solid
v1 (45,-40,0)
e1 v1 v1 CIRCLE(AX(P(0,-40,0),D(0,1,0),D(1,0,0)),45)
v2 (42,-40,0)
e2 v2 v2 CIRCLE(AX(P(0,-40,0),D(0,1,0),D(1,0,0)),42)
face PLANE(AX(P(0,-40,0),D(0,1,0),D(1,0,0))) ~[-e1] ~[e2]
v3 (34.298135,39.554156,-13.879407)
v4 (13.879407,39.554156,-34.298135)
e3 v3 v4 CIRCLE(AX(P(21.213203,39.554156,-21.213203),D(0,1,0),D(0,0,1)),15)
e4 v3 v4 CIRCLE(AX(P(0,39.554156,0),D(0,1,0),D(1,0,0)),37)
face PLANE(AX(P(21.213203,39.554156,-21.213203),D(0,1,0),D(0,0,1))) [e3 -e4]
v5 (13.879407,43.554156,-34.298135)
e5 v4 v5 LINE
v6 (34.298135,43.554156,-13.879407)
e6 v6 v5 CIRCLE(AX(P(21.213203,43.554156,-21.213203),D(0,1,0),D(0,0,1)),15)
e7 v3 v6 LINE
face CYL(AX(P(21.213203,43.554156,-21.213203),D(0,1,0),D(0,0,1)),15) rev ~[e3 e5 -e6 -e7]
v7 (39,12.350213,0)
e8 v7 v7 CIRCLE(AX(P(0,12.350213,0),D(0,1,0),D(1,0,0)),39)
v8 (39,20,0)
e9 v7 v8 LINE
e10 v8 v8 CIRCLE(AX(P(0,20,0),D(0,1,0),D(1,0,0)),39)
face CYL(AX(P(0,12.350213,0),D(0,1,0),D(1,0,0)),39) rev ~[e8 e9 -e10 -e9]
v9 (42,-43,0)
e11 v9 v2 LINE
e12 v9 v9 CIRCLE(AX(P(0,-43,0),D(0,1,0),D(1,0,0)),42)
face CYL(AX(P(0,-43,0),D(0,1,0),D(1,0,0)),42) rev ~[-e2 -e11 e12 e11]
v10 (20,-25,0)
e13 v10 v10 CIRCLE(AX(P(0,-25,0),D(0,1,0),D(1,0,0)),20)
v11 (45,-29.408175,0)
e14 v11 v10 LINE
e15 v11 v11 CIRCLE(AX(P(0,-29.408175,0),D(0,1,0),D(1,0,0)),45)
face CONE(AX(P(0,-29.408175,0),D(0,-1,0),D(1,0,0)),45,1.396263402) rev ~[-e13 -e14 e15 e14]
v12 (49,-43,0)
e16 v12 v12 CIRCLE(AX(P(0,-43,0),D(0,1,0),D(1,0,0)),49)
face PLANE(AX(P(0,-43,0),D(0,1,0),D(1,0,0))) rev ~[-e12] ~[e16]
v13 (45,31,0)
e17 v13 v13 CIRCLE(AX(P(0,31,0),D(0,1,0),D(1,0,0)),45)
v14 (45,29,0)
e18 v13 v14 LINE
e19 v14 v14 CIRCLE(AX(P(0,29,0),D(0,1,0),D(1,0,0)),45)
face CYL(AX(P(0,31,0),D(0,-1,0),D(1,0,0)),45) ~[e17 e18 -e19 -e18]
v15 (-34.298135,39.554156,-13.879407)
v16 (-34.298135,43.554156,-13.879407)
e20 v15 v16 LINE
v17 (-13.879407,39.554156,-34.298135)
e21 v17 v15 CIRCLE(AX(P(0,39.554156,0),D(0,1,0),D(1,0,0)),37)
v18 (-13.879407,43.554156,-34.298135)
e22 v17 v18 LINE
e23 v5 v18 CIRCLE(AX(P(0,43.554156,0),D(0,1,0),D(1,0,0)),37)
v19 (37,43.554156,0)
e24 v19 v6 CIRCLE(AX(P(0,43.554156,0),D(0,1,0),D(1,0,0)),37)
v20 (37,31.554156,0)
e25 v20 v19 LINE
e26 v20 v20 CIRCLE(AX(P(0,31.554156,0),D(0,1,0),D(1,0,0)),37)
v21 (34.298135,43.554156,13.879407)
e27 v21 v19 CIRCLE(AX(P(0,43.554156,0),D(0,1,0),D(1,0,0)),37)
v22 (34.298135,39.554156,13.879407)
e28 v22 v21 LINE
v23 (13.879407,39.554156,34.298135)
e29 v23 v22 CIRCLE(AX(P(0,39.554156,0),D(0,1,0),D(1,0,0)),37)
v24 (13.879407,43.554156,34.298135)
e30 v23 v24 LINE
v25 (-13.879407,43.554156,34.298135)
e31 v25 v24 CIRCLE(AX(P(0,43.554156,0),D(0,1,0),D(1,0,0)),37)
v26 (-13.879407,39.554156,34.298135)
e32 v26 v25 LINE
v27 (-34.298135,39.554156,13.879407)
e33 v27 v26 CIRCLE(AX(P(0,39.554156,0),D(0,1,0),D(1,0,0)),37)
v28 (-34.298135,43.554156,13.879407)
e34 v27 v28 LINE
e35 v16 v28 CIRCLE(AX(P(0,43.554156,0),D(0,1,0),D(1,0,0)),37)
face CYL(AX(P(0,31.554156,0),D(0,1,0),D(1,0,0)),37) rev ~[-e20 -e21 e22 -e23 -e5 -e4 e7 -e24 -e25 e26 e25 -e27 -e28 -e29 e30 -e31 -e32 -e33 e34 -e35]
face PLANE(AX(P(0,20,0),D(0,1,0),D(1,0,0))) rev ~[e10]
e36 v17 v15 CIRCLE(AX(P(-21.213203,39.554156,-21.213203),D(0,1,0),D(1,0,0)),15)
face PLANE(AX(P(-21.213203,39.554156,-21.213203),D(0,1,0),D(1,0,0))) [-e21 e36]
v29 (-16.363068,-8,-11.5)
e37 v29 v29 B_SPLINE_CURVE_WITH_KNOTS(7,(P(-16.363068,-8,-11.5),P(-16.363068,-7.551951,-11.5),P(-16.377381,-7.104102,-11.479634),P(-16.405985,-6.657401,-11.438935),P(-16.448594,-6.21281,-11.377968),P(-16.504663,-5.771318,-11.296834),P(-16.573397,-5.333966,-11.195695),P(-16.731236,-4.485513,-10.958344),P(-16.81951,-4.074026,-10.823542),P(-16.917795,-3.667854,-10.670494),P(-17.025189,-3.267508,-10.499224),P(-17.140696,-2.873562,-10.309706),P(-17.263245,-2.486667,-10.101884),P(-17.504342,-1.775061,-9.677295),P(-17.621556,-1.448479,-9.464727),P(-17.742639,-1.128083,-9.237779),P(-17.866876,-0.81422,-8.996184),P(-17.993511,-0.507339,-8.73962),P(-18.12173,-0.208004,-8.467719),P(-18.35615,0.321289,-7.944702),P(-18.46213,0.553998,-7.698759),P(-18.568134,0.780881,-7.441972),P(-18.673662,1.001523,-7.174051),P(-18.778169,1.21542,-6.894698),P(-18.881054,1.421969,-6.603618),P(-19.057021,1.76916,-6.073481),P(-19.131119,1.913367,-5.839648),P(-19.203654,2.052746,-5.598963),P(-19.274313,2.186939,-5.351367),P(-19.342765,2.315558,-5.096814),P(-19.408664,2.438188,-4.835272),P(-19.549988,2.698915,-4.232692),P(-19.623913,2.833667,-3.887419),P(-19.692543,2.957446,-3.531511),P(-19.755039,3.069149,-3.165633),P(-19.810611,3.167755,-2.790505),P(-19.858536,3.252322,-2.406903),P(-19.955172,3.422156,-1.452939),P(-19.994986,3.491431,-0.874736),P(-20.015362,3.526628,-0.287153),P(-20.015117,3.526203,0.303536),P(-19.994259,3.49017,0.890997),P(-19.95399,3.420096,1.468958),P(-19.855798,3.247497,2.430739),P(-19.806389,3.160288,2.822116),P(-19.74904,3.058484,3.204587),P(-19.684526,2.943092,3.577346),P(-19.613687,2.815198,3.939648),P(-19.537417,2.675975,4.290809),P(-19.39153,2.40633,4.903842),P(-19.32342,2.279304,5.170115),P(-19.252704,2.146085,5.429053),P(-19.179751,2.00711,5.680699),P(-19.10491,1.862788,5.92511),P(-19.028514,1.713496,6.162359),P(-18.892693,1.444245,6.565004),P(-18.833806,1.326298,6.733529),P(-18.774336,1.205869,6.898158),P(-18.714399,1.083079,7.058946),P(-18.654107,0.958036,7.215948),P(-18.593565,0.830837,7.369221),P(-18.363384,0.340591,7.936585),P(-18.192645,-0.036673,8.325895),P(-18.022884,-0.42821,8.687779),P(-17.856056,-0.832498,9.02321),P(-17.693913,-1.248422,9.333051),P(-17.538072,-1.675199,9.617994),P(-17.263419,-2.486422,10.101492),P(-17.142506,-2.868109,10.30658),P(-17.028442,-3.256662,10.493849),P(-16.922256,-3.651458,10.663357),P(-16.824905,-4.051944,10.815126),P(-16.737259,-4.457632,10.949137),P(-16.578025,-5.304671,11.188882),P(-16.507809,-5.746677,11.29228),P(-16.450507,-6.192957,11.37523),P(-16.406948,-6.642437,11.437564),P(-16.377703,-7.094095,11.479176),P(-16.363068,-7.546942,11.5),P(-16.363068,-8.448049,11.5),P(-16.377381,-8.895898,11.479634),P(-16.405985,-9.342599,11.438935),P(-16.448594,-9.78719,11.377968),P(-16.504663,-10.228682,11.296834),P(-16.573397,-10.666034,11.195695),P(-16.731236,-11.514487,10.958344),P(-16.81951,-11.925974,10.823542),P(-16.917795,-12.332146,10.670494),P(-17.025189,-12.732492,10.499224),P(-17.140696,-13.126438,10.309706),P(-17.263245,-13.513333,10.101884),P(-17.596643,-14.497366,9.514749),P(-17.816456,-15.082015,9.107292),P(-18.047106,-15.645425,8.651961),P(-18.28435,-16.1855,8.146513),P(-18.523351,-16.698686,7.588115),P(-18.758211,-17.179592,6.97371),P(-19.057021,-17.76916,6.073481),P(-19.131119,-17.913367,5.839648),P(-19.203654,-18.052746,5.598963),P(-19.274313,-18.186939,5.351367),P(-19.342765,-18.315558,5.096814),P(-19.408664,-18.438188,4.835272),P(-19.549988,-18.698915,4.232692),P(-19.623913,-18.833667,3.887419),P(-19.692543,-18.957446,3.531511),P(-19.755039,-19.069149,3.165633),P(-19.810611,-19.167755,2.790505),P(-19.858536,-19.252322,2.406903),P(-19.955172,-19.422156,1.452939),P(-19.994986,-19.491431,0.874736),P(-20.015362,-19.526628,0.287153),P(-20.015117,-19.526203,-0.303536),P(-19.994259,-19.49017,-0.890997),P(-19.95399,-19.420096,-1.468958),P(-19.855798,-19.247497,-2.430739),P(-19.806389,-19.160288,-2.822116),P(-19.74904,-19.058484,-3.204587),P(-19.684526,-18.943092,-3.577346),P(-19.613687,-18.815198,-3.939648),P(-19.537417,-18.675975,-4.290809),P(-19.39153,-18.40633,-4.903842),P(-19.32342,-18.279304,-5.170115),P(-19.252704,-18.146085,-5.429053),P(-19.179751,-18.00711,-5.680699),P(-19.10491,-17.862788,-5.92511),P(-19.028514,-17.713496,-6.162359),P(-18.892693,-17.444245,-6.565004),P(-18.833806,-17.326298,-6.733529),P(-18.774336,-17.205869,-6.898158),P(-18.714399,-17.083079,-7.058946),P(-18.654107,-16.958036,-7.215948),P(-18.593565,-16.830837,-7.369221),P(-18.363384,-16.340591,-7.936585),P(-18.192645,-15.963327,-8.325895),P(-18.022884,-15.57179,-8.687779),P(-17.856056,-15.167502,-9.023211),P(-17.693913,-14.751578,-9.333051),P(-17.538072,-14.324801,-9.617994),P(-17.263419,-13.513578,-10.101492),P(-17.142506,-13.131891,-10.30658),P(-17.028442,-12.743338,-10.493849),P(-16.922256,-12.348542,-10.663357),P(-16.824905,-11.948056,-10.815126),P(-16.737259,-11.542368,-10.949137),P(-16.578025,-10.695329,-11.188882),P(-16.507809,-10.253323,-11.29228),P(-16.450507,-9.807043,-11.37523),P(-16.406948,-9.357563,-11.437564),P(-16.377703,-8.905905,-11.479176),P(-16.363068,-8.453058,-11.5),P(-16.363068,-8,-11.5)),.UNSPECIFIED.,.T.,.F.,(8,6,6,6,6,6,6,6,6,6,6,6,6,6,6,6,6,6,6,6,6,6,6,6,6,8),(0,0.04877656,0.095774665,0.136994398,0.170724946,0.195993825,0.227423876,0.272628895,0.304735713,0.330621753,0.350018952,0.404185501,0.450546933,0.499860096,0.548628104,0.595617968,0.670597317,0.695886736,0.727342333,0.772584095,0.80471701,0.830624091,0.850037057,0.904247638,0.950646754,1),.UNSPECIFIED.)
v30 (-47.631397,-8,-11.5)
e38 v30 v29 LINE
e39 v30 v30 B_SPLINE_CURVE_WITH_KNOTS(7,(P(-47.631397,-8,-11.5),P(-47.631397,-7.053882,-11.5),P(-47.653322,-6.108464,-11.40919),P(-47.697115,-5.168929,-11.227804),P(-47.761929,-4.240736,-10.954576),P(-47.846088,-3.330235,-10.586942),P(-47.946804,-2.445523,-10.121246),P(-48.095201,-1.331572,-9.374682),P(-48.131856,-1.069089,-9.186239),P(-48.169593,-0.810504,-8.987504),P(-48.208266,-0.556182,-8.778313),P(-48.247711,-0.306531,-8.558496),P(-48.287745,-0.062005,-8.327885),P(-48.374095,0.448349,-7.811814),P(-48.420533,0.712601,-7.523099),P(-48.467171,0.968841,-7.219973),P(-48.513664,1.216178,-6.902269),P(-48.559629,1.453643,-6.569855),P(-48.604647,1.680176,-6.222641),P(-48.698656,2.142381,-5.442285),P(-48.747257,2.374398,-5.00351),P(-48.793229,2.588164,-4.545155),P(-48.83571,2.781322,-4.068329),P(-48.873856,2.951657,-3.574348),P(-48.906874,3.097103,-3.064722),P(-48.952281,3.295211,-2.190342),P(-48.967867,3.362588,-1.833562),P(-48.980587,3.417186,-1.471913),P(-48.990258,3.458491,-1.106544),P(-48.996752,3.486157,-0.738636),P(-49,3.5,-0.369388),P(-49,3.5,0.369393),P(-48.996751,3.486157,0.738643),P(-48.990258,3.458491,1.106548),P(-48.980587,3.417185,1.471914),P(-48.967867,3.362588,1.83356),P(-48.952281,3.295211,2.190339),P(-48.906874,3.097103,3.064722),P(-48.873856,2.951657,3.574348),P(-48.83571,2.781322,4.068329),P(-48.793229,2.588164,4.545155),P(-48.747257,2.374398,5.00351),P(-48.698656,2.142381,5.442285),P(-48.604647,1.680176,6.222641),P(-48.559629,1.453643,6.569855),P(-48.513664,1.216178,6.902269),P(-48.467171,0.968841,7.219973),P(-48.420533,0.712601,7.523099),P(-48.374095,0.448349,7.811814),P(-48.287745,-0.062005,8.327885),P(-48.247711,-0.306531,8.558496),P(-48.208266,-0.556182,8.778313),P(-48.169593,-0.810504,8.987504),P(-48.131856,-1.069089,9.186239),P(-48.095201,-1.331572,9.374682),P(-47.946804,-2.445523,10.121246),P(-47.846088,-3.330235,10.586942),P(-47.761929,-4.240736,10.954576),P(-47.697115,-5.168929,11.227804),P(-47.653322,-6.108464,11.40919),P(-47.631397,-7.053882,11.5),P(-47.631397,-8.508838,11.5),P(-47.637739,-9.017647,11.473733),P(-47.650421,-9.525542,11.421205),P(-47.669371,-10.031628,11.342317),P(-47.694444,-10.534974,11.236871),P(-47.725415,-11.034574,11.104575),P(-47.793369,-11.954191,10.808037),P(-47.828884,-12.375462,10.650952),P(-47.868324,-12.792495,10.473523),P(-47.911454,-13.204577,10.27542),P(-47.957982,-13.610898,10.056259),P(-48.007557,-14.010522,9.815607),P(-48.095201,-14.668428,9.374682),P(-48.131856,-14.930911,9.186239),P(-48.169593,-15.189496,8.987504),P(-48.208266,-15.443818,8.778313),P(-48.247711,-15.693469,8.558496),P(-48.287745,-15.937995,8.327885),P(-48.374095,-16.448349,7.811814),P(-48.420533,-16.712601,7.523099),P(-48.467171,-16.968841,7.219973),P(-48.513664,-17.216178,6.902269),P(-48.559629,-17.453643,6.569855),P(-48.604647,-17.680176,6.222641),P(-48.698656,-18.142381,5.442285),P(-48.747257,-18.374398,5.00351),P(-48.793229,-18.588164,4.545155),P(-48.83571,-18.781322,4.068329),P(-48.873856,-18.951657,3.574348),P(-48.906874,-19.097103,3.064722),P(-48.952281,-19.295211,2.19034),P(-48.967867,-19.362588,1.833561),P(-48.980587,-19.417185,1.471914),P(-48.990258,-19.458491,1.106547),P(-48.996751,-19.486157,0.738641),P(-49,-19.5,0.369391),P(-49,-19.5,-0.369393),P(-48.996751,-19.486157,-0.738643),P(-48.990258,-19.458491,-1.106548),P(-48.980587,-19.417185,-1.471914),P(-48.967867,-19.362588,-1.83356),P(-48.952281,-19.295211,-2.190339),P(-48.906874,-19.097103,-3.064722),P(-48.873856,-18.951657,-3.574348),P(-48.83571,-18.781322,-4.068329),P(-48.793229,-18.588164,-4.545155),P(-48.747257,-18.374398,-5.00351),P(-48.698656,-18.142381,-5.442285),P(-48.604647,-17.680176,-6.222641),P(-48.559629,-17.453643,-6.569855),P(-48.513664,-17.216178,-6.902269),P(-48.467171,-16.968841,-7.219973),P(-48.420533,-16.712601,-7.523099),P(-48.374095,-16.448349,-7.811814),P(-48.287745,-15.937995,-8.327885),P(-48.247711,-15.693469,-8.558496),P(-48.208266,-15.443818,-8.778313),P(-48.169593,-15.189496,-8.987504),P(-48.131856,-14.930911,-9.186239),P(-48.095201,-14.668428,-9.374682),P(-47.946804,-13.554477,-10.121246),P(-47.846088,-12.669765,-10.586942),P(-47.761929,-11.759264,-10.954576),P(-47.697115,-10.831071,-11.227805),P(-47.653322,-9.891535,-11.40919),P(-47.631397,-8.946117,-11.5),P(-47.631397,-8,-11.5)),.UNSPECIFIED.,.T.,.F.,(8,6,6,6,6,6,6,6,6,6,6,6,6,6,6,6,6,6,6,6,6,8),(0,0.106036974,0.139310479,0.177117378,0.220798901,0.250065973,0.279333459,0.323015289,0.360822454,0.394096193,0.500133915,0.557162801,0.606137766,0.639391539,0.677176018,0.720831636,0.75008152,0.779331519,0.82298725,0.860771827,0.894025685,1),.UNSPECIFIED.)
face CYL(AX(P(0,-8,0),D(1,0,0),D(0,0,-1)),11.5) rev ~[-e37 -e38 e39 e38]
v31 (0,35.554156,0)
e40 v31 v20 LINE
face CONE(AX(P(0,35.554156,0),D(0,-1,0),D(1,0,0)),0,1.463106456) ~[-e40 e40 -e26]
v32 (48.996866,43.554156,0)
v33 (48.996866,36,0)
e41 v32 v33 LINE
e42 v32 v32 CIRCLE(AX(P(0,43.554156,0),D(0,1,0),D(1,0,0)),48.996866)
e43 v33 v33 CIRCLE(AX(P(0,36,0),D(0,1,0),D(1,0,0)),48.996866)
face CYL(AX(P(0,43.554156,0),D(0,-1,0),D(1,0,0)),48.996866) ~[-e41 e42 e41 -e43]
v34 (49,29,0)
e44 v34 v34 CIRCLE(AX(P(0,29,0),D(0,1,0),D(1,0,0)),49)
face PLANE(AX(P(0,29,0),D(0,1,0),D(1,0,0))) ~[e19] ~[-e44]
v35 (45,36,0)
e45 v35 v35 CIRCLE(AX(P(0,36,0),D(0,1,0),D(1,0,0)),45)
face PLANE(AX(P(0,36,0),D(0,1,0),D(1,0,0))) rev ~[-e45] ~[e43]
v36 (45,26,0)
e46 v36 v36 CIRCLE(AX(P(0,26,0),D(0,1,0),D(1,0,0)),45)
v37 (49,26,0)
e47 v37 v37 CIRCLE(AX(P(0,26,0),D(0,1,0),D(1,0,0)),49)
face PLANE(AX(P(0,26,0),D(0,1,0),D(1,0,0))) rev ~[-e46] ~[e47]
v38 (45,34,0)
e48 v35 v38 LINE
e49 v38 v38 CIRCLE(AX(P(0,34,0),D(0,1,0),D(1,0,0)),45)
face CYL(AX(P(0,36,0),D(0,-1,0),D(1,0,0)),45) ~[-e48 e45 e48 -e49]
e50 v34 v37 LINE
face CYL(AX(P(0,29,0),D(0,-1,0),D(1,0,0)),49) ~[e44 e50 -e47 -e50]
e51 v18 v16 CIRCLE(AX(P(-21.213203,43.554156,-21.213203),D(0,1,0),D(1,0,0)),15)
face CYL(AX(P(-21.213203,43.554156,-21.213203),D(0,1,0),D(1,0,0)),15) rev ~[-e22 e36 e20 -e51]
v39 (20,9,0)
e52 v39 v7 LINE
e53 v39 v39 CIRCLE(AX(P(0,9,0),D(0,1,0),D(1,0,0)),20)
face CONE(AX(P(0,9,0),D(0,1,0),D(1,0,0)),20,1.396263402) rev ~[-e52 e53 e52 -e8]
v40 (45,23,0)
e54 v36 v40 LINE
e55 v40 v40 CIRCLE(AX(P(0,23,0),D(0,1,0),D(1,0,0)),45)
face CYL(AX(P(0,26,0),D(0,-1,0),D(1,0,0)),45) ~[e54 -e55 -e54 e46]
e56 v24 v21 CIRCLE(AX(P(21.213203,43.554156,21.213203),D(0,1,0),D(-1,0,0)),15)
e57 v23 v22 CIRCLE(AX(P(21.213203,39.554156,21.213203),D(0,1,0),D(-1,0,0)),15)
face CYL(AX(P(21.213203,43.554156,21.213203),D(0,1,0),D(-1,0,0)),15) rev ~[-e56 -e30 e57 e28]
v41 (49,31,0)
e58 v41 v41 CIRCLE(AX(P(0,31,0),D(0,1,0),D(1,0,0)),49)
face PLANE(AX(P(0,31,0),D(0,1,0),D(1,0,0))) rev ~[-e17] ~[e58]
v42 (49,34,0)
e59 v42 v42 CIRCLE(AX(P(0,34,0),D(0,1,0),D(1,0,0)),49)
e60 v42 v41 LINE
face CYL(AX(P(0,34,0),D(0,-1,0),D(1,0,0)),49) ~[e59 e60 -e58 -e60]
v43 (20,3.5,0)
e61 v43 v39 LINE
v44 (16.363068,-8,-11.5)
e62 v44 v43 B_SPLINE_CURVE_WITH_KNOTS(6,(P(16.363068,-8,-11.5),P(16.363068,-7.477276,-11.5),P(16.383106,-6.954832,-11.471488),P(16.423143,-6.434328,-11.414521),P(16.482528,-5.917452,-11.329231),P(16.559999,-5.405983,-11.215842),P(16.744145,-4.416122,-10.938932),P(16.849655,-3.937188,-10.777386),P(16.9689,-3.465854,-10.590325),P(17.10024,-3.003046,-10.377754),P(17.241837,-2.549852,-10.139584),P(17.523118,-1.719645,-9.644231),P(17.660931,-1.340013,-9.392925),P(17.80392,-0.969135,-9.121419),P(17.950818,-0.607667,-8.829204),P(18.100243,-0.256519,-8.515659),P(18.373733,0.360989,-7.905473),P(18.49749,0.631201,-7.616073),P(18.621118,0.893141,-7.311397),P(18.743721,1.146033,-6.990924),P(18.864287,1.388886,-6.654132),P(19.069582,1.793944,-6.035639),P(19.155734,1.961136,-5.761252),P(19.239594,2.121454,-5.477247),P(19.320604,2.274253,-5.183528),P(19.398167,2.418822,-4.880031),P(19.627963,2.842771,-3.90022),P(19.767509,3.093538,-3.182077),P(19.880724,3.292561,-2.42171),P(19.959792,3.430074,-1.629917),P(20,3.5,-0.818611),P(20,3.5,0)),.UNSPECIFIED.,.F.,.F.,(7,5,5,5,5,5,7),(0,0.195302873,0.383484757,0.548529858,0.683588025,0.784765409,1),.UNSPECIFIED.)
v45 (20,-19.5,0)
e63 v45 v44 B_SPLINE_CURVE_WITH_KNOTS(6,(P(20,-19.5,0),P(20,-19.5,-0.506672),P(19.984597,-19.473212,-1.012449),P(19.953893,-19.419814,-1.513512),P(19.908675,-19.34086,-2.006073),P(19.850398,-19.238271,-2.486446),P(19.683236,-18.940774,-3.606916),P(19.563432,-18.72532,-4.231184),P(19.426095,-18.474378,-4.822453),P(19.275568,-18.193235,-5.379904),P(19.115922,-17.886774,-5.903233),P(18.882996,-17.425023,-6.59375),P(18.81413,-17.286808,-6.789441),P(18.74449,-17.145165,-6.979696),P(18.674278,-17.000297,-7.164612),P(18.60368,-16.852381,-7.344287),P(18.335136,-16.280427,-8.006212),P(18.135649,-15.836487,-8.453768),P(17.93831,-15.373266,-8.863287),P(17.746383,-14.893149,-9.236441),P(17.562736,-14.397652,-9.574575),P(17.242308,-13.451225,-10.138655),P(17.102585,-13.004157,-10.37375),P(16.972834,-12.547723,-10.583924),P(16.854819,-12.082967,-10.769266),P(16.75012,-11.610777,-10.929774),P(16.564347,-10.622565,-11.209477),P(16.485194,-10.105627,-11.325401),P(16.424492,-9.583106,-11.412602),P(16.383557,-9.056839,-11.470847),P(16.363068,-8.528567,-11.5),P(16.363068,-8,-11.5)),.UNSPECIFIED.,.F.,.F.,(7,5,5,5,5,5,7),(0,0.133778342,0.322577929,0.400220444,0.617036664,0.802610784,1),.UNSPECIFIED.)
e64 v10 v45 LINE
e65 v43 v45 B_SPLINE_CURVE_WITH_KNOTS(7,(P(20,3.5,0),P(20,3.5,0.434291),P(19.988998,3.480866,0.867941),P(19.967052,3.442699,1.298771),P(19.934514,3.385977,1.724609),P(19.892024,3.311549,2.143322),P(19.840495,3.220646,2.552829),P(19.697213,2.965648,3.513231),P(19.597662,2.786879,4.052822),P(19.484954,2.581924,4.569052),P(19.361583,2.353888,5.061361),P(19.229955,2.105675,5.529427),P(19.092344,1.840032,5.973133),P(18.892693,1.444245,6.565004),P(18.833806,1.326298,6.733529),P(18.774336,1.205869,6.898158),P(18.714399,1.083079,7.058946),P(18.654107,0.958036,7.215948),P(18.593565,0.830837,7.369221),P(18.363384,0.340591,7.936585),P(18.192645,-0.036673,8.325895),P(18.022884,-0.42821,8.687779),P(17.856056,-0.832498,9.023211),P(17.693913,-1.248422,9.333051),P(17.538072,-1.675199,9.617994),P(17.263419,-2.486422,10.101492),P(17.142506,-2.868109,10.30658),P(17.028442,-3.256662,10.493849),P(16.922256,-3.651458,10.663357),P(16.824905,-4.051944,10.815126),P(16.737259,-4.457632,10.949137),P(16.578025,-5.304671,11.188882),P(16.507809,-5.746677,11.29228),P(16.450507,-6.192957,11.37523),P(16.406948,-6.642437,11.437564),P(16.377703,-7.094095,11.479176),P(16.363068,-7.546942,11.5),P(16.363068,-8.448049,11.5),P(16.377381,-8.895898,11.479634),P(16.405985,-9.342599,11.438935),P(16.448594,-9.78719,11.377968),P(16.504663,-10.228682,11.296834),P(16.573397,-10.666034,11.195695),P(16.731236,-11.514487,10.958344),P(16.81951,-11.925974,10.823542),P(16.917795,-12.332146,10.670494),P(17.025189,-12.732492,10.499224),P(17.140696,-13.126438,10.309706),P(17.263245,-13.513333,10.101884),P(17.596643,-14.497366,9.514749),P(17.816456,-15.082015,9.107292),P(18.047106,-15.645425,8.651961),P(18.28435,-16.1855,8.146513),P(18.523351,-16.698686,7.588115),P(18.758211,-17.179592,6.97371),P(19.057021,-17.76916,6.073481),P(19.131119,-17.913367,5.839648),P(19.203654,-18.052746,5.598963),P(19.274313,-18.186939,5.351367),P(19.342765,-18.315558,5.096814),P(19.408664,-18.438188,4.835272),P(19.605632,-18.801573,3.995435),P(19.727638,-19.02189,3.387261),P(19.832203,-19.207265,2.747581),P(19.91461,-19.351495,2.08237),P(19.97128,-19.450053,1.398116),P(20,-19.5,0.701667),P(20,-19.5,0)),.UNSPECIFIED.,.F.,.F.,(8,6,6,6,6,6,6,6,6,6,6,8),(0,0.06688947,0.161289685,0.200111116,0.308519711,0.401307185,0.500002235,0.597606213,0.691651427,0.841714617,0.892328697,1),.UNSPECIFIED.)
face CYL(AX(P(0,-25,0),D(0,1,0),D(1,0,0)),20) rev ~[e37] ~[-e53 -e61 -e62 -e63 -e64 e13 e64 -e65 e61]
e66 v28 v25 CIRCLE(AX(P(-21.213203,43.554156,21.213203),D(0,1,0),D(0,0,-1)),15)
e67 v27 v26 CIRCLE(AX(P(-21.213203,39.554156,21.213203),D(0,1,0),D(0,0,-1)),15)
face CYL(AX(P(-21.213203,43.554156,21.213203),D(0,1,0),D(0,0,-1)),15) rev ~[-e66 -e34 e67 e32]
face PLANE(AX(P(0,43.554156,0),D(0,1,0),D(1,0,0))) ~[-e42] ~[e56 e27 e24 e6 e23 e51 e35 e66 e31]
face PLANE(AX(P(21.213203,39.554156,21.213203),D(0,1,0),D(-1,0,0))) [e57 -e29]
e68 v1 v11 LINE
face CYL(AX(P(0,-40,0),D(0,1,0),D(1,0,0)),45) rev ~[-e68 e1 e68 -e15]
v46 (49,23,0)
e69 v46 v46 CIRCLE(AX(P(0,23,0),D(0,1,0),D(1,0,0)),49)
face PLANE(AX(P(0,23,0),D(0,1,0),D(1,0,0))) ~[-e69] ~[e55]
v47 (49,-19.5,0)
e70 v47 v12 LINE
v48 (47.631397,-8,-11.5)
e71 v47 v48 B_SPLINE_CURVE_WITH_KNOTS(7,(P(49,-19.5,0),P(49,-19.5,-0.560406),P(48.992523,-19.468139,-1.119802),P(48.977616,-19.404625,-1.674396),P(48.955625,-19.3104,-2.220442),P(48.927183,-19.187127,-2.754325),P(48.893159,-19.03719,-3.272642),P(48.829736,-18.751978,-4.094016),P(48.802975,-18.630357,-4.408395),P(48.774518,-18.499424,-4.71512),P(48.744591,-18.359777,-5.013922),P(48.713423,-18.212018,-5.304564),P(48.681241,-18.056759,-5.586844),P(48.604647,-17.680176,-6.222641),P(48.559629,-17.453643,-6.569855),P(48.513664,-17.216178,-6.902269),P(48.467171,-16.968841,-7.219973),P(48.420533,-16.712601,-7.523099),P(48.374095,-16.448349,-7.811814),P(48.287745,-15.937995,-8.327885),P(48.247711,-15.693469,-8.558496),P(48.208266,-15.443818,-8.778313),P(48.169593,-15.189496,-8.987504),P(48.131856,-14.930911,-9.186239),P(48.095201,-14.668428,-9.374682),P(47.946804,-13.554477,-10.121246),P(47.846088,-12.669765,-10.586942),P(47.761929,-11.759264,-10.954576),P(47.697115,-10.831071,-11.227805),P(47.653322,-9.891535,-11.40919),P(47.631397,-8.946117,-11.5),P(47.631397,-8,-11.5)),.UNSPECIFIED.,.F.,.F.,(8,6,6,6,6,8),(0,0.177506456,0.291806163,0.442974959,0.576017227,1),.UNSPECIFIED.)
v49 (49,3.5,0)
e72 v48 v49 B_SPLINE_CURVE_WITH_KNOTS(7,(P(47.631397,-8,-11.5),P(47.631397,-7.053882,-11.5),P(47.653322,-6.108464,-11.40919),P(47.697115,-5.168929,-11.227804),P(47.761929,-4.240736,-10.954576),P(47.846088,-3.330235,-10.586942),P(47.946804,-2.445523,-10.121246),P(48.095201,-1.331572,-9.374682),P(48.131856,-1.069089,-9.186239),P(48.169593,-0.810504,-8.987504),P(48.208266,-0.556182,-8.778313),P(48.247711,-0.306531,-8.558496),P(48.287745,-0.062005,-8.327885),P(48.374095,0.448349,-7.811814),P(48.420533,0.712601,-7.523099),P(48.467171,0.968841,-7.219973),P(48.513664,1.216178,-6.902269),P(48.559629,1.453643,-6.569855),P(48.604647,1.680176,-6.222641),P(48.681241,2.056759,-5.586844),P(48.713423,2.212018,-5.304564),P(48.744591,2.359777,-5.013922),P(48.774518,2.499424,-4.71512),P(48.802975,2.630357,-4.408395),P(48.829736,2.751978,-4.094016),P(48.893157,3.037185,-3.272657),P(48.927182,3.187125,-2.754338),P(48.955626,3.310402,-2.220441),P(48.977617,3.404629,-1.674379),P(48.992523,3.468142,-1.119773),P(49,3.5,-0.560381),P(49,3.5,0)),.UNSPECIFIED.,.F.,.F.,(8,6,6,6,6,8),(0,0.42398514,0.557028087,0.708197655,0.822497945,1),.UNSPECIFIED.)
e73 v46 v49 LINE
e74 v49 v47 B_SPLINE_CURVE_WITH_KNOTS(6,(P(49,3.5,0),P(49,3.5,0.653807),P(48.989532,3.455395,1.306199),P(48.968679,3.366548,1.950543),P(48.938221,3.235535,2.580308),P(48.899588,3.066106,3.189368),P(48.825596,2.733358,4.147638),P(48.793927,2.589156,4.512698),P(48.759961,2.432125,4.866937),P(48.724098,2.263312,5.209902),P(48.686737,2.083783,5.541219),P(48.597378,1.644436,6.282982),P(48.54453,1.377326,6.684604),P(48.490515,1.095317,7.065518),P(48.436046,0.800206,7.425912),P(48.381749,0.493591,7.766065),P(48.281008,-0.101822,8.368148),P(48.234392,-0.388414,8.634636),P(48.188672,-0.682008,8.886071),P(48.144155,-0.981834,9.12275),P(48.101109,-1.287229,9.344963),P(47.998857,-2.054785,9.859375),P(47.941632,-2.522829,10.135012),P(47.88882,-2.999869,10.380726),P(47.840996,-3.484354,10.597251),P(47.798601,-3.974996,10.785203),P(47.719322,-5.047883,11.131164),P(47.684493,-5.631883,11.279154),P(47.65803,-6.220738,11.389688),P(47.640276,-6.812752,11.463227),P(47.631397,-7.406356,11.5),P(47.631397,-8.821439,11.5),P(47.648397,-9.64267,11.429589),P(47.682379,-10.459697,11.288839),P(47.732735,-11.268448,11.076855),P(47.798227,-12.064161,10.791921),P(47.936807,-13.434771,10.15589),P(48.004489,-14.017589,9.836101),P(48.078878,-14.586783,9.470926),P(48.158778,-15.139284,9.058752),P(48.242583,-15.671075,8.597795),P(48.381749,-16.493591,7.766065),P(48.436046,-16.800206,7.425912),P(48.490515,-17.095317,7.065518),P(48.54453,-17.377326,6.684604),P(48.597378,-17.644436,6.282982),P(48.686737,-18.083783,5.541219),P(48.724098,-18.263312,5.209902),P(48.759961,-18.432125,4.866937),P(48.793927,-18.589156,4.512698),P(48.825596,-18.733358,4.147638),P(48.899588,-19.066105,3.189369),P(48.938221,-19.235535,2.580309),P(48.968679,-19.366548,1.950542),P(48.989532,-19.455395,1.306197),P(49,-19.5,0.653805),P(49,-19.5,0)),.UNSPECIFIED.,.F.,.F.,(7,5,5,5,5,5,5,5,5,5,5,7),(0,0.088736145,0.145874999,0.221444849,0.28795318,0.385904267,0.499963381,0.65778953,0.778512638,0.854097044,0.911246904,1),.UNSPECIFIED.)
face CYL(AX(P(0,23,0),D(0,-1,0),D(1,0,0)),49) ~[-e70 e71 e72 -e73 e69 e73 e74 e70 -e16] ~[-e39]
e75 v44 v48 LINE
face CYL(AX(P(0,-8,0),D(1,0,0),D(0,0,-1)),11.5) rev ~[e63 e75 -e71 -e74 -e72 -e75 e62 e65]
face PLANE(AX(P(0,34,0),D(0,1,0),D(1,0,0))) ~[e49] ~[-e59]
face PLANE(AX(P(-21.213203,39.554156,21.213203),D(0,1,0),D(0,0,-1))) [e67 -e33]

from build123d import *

# Parameters (mm, degrees)
SKETCH10_R         = 11.5
CUT_EXTRUDE1_DEPTH = 70
SKETCH12_R         = 15
CUT_EXTRUDE2_DEPTH = 4
CIRPATTERN1_COUNT  = 4


with BuildPart() as part:
    # Sketch1 → Revolve1 (revolve)
    with BuildSketch(Plane.XY):
        Polygon((37, 43.55415604), (48.996866339, 43.55415604), (48.996866339, 36), (45, 36), (45, 34), (49, 34), (49, 31), (45, 31), (45, 29), (49, 29), (49, 26), (45, 26), (45, 23), (49, 23), (49, -43), (42, -43), (42, -40), (45, -40), (45, -29.408174518), (20, -25), (20, 9), (39, 12.350212633), (39, 20), (0, 20), (0, 35.55415604), (37, 31.55415604), align=None)
    revolve(axis=Axis((0, 43, 0), (0, 1, 0)))

    # Sketch10 → Cut-Extrude1 (cut, symmetric)
    with BuildSketch(Plane(origin=(0, 0, 0), x_dir=(0, 0, -1), z_dir=(1, 0, 0))):
        with Locations((0, -8)):
            Circle(SKETCH10_R)
    extrude(amount=CUT_EXTRUDE1_DEPTH, both=True, mode=Mode.SUBTRACT)

    # Sketch12 → Cut-Extrude2 (cut)
    with BuildSketch(Plane(origin=(0, 43.55415604, 0), x_dir=(1, 0, 0), z_dir=(0, 1, 0))):
        with Locations((-21.213203436, 21.213203436)):
            Circle(SKETCH12_R)
    cut_extrude2 = extrude(amount=-CUT_EXTRUDE2_DEPTH, mode=Mode.SUBTRACT)

    # CirPattern1: Cut-Extrude2 ×4 about axis
    cirpattern1_axis = Axis((0, 0, 0), (0, 1, 0))
    for i in range(1, CIRPATTERN1_COUNT):
        add(cut_extrude2.rotate(cirpattern1_axis, i * 360 / CIRPATTERN1_COUNT), mode=Mode.SUBTRACT)


solid = part.part
